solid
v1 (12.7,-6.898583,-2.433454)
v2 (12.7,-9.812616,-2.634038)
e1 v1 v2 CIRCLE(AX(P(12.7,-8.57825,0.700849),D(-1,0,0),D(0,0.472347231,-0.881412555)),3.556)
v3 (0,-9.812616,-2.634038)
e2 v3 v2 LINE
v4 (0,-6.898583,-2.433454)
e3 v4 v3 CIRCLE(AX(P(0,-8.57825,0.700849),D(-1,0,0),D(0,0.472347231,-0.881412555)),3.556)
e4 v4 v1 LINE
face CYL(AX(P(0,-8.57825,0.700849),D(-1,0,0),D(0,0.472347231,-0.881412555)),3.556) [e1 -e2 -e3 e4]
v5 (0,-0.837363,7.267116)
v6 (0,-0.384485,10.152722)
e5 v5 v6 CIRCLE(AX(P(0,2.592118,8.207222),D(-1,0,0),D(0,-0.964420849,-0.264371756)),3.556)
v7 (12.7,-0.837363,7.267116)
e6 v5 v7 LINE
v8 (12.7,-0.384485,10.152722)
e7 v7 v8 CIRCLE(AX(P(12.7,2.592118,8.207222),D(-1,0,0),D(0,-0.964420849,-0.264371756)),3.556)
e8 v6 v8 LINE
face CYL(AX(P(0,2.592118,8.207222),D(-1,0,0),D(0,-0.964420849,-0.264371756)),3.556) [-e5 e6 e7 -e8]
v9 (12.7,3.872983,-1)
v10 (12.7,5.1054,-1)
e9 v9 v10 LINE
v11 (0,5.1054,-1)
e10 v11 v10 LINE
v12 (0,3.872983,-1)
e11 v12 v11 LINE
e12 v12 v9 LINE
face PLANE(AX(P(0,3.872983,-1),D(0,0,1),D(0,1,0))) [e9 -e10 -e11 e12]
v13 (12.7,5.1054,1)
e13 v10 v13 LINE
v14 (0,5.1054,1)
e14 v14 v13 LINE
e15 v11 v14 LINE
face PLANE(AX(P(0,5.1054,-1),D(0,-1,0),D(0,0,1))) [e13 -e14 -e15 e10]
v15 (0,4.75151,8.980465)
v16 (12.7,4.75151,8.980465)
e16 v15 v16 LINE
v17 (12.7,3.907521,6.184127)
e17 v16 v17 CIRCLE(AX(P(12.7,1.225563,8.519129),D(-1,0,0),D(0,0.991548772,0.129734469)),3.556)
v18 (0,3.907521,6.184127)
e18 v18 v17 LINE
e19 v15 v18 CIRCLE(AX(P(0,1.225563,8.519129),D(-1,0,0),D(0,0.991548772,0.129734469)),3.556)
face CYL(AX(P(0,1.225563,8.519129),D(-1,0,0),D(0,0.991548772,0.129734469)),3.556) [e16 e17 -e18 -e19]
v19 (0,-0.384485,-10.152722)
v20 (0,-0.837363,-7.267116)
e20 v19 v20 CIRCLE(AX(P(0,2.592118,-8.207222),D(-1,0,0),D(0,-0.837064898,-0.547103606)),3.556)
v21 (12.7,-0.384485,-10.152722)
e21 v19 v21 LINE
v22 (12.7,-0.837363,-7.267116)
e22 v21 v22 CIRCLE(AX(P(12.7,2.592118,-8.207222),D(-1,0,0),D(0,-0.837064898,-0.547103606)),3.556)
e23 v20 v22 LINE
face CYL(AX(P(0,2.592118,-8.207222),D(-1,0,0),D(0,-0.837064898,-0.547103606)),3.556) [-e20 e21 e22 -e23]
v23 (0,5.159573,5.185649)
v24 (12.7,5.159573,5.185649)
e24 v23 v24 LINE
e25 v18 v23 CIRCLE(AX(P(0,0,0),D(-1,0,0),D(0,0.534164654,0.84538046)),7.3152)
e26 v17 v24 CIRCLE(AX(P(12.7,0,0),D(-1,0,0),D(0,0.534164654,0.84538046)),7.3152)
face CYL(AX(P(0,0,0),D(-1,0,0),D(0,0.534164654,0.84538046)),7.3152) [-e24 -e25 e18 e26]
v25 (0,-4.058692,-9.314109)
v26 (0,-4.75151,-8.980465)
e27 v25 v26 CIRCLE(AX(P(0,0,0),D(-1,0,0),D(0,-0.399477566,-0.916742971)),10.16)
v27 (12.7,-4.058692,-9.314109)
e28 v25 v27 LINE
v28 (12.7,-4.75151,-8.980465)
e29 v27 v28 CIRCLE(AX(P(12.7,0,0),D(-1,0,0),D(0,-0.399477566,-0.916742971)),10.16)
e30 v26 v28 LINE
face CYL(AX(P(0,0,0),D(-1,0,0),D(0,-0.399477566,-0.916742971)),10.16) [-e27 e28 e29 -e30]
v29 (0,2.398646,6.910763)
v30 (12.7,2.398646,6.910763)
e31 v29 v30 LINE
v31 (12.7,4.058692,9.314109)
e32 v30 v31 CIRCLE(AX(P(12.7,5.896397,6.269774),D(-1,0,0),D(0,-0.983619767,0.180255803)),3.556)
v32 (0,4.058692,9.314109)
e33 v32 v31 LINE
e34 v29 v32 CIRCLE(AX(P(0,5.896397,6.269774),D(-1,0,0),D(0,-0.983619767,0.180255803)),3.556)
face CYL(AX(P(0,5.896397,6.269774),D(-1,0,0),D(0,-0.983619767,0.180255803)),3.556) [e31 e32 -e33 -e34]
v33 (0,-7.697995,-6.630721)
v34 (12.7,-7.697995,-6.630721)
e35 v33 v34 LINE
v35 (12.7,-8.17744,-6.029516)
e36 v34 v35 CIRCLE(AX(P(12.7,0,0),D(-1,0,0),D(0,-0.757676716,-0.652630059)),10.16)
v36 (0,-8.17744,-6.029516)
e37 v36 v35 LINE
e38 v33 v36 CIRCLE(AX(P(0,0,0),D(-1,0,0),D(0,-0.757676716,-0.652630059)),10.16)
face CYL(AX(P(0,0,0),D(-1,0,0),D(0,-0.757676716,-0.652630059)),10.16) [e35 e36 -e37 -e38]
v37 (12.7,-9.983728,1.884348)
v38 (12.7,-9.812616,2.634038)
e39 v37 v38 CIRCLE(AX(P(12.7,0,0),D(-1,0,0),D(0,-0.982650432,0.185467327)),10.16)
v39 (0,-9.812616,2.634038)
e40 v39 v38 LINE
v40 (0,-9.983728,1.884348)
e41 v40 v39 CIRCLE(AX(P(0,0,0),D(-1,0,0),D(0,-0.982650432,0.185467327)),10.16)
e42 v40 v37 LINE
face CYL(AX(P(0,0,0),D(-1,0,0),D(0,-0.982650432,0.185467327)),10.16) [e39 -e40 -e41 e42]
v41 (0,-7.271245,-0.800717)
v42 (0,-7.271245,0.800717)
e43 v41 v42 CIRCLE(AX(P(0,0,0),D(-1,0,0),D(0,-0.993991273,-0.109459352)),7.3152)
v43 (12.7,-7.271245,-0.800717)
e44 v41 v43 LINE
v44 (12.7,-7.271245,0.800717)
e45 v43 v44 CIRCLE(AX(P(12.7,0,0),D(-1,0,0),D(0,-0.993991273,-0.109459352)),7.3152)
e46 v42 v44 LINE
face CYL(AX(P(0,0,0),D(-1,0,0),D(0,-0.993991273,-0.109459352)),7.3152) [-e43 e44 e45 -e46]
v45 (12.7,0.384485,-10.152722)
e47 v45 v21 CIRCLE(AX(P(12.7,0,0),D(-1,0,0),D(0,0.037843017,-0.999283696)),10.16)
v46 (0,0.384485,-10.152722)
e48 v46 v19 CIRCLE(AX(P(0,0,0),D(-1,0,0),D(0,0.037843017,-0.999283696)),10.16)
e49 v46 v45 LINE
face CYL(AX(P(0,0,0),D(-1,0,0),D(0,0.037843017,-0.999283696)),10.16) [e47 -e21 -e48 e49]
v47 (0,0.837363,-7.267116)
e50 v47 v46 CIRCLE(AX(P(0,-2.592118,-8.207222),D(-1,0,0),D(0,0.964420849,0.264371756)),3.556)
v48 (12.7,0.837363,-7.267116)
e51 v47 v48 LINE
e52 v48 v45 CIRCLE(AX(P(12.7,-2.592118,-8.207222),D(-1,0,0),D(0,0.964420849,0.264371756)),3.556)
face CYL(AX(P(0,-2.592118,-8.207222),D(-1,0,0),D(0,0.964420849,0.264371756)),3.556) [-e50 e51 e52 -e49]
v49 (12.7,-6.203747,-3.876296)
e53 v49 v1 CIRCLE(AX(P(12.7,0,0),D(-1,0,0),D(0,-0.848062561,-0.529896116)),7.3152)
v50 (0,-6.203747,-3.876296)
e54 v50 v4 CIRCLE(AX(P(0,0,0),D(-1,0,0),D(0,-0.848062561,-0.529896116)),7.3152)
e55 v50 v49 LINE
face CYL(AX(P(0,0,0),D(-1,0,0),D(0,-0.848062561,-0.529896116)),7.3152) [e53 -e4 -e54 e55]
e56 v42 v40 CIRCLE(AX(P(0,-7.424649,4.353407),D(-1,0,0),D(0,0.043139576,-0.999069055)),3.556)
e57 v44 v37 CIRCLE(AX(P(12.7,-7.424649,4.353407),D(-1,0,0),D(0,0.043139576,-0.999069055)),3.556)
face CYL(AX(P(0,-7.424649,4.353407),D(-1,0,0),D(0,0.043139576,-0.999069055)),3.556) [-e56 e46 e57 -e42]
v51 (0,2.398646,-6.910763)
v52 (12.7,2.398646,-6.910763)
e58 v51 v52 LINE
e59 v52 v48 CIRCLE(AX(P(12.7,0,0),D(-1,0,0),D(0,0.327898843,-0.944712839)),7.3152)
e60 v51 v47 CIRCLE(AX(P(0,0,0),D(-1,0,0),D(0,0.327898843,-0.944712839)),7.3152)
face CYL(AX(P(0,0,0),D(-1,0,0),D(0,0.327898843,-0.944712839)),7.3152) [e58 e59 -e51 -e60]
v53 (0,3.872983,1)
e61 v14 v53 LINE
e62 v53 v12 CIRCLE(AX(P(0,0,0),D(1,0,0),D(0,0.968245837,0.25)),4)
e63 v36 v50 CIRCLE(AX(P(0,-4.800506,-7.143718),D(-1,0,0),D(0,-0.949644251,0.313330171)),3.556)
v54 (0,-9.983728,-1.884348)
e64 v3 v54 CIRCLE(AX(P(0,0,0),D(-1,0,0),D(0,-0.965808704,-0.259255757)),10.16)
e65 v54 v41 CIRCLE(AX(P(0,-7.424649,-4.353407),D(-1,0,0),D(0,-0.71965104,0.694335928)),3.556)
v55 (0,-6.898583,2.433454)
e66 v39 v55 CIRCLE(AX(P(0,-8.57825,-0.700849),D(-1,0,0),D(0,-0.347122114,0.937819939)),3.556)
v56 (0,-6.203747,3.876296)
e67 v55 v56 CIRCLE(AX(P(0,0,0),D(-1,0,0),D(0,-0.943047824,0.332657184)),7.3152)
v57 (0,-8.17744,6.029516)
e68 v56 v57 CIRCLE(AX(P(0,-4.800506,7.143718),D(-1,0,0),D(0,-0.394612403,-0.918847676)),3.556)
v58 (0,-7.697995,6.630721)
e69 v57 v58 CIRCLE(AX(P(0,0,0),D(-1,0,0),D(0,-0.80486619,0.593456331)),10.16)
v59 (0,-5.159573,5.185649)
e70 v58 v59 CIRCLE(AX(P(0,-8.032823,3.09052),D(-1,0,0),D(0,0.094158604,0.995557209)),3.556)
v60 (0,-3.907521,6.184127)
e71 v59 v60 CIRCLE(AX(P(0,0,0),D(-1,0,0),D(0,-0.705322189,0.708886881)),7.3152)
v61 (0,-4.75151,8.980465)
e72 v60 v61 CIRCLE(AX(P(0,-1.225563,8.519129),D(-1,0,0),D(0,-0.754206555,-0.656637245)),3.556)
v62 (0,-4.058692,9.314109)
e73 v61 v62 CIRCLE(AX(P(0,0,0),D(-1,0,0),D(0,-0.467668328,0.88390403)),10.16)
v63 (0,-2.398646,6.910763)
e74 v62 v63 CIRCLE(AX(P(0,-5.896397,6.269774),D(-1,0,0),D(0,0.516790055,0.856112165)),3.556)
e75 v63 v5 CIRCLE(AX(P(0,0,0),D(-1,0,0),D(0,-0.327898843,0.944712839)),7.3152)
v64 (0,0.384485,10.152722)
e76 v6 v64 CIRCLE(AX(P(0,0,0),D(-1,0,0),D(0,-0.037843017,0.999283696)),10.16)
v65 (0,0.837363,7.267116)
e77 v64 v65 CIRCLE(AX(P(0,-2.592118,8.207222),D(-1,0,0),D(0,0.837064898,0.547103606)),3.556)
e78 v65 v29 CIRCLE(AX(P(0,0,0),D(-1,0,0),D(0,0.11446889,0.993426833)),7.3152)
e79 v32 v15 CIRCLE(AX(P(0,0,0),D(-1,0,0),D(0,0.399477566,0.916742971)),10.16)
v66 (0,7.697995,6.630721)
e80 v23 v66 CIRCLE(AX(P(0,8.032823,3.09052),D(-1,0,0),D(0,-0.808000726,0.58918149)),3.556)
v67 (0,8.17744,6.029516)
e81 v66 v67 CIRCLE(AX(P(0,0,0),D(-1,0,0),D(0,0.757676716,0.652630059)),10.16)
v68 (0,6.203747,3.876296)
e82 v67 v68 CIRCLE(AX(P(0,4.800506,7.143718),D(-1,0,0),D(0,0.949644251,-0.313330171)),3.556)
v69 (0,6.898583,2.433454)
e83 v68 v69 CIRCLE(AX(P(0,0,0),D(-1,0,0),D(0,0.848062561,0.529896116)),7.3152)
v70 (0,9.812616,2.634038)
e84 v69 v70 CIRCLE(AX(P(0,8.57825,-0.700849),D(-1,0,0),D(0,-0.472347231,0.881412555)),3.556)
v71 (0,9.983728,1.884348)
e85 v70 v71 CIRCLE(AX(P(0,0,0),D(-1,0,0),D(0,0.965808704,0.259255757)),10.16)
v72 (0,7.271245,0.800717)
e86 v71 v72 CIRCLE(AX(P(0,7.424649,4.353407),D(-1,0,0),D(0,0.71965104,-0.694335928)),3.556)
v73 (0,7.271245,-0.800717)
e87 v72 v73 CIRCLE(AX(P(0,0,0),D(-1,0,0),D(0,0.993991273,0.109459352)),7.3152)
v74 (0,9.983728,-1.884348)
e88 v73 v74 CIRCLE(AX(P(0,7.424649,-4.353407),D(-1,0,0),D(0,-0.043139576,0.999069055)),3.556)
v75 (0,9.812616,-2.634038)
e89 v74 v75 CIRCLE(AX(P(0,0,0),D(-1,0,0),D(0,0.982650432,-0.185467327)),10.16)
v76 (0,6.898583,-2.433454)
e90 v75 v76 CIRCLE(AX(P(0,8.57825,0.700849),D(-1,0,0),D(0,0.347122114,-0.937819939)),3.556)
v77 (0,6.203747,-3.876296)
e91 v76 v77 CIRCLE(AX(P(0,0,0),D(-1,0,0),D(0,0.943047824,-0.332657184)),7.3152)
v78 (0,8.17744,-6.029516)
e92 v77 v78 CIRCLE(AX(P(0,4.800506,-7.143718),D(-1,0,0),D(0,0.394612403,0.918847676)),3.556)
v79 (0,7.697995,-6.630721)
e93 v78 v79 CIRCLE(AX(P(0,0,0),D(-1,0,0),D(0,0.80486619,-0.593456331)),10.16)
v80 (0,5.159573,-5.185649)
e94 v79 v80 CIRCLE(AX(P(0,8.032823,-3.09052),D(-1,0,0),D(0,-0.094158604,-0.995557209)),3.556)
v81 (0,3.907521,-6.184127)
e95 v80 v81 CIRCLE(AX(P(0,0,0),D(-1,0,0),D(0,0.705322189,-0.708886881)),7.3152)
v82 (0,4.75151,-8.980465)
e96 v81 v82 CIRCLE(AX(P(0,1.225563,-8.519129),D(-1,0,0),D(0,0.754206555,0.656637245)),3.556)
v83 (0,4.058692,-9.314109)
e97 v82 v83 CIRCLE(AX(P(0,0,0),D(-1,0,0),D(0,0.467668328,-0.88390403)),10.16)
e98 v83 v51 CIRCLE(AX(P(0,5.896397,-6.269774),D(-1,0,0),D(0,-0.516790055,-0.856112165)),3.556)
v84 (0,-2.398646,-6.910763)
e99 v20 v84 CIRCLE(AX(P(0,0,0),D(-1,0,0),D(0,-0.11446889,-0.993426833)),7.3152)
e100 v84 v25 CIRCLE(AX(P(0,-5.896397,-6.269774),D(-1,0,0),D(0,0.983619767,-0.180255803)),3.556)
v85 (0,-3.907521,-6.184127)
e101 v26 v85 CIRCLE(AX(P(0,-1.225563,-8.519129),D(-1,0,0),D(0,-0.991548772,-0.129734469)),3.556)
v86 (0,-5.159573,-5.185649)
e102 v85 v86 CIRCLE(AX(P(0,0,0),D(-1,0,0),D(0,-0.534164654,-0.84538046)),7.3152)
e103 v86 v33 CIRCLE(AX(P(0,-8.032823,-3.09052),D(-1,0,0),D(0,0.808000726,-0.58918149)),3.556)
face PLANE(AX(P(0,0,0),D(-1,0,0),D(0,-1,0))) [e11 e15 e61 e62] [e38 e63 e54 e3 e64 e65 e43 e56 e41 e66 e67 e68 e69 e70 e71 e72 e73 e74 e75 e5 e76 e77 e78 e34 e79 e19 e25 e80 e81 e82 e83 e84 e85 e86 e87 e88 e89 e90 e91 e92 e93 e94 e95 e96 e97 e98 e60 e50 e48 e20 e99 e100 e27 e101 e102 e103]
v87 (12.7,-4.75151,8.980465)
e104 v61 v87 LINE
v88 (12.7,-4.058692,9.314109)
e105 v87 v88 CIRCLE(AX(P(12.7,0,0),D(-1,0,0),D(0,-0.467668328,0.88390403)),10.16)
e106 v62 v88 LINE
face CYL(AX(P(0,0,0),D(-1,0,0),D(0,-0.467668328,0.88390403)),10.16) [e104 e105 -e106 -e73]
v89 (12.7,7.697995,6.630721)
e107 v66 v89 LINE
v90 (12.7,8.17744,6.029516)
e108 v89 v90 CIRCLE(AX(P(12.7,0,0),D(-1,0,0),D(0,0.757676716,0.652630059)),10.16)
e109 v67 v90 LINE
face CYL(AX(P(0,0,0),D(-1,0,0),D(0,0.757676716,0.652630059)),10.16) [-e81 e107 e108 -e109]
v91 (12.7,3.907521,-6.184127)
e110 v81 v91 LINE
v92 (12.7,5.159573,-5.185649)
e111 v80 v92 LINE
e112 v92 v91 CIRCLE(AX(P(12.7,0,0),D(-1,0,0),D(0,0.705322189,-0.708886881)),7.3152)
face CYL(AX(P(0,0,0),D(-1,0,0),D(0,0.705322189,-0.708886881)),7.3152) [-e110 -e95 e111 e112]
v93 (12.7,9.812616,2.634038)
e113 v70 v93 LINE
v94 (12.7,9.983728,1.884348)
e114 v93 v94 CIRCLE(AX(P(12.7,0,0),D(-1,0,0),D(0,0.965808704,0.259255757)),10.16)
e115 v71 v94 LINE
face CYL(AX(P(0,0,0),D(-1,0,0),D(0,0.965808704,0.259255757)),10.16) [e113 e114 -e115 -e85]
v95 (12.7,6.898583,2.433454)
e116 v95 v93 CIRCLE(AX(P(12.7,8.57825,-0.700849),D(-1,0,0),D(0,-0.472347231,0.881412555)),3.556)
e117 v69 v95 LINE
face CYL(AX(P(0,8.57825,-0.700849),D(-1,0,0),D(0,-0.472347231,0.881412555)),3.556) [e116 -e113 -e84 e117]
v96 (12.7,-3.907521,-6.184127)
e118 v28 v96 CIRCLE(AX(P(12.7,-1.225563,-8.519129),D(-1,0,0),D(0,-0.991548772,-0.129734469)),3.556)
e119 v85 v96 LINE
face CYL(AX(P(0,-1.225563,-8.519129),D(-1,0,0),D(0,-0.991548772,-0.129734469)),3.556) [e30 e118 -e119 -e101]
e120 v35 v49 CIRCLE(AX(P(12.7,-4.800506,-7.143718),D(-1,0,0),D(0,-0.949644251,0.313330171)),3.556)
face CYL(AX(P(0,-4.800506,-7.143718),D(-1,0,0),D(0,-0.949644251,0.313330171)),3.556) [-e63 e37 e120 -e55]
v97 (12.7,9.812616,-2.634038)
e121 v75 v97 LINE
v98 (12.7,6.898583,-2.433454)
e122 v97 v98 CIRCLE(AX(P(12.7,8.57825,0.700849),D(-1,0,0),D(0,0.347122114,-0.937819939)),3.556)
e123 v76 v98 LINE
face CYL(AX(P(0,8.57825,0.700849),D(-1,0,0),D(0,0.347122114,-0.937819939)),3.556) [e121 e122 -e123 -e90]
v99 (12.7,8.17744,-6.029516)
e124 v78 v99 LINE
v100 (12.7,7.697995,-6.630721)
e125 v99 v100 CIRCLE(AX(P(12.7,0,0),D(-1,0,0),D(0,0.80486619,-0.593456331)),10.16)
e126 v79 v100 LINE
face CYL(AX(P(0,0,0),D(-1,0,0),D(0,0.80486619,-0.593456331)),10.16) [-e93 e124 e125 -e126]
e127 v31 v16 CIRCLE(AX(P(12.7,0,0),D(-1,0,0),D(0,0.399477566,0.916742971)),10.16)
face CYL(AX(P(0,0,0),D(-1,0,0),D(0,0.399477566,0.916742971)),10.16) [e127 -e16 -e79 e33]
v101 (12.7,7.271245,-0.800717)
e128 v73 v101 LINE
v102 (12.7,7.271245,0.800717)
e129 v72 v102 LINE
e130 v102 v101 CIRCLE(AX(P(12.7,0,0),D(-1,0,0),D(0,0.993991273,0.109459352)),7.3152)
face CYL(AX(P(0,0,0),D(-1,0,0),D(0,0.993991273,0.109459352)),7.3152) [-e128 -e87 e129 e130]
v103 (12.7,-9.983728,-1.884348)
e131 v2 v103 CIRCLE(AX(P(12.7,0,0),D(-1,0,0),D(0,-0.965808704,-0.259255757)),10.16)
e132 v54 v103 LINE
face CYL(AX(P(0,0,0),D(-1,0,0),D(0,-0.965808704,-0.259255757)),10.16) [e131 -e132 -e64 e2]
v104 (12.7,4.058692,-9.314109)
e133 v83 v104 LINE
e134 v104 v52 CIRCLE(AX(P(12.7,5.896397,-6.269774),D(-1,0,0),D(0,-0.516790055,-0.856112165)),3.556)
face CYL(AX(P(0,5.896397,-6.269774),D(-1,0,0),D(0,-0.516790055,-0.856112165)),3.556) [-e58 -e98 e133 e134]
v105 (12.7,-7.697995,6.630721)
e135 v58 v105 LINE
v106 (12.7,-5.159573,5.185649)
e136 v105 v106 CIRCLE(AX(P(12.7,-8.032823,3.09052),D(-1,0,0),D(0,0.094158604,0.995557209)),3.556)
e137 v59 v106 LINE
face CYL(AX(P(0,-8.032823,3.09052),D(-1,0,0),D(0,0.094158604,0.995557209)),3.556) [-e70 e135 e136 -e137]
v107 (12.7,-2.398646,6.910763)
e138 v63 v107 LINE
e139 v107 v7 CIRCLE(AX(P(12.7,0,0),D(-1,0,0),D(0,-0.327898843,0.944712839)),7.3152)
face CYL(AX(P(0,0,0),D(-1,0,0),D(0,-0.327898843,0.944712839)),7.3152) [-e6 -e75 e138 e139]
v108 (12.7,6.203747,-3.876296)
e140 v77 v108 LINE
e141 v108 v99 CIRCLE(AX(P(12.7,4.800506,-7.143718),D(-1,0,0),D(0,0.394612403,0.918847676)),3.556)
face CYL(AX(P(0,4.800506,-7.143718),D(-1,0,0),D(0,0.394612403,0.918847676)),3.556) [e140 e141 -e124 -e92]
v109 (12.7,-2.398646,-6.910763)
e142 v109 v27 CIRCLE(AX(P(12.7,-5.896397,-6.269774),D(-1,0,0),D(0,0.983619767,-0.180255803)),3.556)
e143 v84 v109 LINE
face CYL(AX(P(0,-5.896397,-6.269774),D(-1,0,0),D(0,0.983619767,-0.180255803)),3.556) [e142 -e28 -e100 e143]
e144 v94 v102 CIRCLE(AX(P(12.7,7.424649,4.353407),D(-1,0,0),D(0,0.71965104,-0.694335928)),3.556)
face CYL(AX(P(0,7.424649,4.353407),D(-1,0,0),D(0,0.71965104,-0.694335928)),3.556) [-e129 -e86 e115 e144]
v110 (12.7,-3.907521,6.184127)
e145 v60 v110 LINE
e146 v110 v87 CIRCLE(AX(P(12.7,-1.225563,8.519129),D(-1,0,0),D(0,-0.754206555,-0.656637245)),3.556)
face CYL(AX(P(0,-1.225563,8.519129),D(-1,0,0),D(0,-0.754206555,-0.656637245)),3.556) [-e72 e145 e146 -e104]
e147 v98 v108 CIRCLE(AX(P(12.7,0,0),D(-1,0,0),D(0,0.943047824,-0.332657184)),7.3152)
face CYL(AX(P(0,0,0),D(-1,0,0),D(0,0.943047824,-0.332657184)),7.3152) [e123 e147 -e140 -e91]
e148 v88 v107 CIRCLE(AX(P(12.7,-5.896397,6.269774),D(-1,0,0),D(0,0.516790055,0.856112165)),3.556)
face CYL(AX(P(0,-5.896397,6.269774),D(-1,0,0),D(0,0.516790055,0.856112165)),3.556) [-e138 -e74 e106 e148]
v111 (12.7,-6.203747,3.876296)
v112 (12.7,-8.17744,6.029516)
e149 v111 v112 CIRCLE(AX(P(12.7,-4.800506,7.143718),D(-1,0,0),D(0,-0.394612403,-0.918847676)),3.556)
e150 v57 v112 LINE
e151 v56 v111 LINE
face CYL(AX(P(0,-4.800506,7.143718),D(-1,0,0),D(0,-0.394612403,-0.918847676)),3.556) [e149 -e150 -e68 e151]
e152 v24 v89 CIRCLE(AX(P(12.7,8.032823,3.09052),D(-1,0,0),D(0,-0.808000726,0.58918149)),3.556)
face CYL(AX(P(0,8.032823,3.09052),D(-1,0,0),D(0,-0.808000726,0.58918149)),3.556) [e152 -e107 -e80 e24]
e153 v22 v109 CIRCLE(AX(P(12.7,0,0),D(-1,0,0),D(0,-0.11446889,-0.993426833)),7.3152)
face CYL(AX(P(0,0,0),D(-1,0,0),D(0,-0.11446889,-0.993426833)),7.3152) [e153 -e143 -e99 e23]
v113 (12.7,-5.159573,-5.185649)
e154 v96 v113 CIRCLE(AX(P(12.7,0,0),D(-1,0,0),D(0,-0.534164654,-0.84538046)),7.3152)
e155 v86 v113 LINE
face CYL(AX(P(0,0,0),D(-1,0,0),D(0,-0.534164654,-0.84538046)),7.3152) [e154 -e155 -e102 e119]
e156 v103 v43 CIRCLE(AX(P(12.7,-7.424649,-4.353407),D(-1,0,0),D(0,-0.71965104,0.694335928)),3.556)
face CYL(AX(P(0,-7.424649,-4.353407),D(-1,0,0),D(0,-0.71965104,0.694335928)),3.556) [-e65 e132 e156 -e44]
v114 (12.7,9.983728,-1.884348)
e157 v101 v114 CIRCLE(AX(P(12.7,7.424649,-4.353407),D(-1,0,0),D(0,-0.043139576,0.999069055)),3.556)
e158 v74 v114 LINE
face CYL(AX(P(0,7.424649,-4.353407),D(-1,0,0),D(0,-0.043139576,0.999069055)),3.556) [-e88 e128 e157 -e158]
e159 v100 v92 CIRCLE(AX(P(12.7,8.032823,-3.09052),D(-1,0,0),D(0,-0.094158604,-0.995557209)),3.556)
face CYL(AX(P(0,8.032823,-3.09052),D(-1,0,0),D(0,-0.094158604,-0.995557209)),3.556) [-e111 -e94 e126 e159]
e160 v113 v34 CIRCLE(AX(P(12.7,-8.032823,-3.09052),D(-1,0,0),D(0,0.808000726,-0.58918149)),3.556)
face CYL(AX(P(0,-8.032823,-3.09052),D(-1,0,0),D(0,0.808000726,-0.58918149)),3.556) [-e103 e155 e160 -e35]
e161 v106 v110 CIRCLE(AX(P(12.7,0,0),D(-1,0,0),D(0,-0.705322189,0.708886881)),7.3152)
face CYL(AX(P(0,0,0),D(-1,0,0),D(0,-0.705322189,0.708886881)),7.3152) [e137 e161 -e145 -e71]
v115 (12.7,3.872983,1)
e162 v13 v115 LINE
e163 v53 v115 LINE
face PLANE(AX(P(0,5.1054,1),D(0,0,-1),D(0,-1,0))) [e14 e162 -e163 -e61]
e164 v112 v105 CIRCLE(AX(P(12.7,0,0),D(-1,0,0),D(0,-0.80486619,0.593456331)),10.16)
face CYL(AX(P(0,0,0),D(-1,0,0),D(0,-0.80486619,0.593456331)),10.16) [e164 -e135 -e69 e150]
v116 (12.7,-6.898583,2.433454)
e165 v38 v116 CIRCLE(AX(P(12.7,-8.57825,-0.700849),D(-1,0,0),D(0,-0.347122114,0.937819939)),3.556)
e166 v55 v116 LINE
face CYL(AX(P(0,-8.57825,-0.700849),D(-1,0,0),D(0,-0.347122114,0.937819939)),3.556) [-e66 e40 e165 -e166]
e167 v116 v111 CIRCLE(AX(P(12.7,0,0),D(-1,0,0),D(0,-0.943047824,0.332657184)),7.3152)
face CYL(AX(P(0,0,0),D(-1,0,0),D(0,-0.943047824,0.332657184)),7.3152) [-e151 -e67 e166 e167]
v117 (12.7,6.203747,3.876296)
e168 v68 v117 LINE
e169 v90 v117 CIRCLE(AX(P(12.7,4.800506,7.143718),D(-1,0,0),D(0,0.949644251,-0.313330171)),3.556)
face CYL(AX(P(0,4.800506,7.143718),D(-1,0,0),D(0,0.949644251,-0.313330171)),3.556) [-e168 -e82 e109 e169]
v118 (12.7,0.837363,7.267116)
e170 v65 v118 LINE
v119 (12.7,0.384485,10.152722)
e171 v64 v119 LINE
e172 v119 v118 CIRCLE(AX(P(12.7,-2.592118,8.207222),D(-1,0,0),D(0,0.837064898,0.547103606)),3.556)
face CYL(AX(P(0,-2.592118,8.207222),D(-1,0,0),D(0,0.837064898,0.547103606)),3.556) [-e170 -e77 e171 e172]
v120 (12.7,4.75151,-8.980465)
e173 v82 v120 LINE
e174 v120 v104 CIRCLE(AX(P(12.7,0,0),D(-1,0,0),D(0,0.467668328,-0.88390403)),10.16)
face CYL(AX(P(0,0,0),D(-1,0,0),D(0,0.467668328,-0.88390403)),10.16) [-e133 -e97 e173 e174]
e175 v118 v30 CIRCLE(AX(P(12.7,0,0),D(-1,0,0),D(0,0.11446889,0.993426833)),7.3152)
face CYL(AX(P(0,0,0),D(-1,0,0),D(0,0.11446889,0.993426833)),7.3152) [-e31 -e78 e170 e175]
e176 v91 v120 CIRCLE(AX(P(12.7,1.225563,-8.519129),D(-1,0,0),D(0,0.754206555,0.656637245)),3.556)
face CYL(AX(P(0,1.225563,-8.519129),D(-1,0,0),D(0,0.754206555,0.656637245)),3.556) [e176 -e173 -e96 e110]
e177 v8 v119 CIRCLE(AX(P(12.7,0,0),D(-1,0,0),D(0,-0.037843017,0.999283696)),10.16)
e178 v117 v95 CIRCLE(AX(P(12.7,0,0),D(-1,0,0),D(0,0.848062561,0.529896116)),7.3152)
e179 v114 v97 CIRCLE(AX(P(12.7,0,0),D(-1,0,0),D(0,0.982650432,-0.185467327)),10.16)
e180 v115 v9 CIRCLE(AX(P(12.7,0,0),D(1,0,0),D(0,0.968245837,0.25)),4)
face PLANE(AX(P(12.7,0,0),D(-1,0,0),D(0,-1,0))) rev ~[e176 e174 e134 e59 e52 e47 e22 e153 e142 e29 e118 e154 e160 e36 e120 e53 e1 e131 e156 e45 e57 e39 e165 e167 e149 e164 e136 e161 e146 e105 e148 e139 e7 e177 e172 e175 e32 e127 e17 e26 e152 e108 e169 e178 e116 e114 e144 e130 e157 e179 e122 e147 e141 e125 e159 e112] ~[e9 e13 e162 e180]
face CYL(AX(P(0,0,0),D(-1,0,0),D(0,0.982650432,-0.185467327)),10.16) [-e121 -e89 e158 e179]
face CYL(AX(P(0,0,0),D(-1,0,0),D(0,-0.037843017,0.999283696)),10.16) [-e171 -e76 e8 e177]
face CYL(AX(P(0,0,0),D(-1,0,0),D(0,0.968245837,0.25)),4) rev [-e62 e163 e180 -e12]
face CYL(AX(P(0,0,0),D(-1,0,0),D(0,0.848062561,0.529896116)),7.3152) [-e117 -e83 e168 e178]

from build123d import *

# Parameters (mm, degrees)
BOSS_EXTRUDE1_DEPTH = 12.7


with BuildPart() as part:
    # Sketch1 → Boss-Extrude1 (new body)
    with BuildSketch(Plane(origin=(0, 0, 0), x_dir=(0, -1, 0), z_dir=(-1, 0, 0))):
        with BuildLine():
            ThreePointArc((-8.177440487, -6.029516323), (-7.943407862, -6.334656387), (-7.697995454, -6.630721377))
            ThreePointArc((-7.697995454, -6.630721377), (-6.273562142, -6.180849316), (-5.15957287, -5.185649317))
            ThreePointArc((-5.15957287, -5.185649317), (-4.560952599, -5.719253661), (-3.907521288, -6.184127135))
            ThreePointArc((-3.907521288, -6.184127135), (-4.629883612, -7.491639203), (-4.75151021, -8.98046495))
            ThreePointArc((-4.75151021, -8.98046495), (-4.408258789, -9.153843698), (-4.058692066, -9.314108584))
            ThreePointArc((-4.058692066, -9.314108584), (-2.970514168, -8.29074941), (-2.398645612, -6.910763363))
            ThreePointArc((-2.398645612, -6.910763363), (-1.627785136, -7.131792663), (-0.837362826, -7.267115971))
            ThreePointArc((-0.837362826, -7.267115971), (-0.920880567, -8.758564905), (-0.384485064, -10.152722356))
            ThreePointArc((-0.384485064, -10.152722356), (0, -10.16), (0.384485064, -10.152722356))
            ThreePointArc((0.384485064, -10.152722356), (0.920880567, -8.758564905), (0.837362826, -7.267115971))
            ThreePointArc((0.837362826, -7.267115971), (1.627785136, -7.131792663), (2.398645612, -6.910763363))
            ThreePointArc((2.398645612, -6.910763363), (2.970514168, -8.29074941), (4.058692066, -9.314108584))
            ThreePointArc((4.058692066, -9.314108584), (4.408258789, -9.153843698), (4.75151021, -8.98046495))
            ThreePointArc((4.75151021, -8.98046495), (4.629883612, -7.491639203), (3.907521288, -6.184127135))
            ThreePointArc((3.907521288, -6.184127135), (4.560952599, -5.719253661), (5.15957287, -5.185649317))
            ThreePointArc((5.15957287, -5.185649317), (6.273562142, -6.180849316), (7.697995454, -6.630721377))
            ThreePointArc((7.697995454, -6.630721377), (7.943407862, -6.334656387), (8.177440487, -6.029516323))
            ThreePointArc((8.177440487, -6.029516323), (7.421881426, -4.740902478), (6.203747236, -3.876296077))
            ThreePointArc((6.203747236, -3.876296077), (6.590767462, -3.173946328), (6.898583443, -2.433453825))
            ThreePointArc((6.898583443, -2.433453825), (8.334054192, -2.846756211), (9.812616434, -2.634038481))
            ThreePointArc((9.812616434, -2.634038481), (9.905267588, -2.260812689), (9.983728385, -1.884348041))
            ThreePointArc((9.983728385, -1.884348041), (8.7438846, -1.051171874), (7.271244959, -0.800717041))
            ThreePointArc((7.271244959, -0.800717041), (7.3152, 0), (7.271244959, 0.800717041))
            ThreePointArc((7.271244959, 0.800717041), (8.7438846, 1.051171874), (9.983728385, 1.884348041))
            ThreePointArc((9.983728385, 1.884348041), (9.905267588, 2.260812689), (9.812616434, 2.634038481))
            ThreePointArc((9.812616434, 2.634038481), (8.334054192, 2.846756211), (6.898583443, 2.433453825))
            ThreePointArc((6.898583443, 2.433453825), (6.590767462, 3.173946328), (6.203747236, 3.876296077))
            ThreePointArc((6.203747236, 3.876296077), (7.421881426, 4.740902478), (8.177440487, 6.029516323))
            ThreePointArc((8.177440487, 6.029516323), (7.943407862, 6.334656387), (7.697995454, 6.630721377))
            ThreePointArc((7.697995454, 6.630721377), (6.273562142, 6.180849316), (5.15957287, 5.185649317))
            ThreePointArc((5.15957287, 5.185649317), (4.560952599, 5.719253661), (3.907521288, 6.184127135))
            ThreePointArc((3.907521288, 6.184127135), (4.629883612, 7.491639203), (4.75151021, 8.98046495))
            ThreePointArc((4.75151021, 8.98046495), (4.408258789, 9.153843698), (4.058692066, 9.314108584))
            ThreePointArc((4.058692066, 9.314108584), (2.970514168, 8.29074941), (2.398645612, 6.910763363))
            ThreePointArc((2.398645612, 6.910763363), (1.627785136, 7.131792663), (0.837362826, 7.267115971))
            ThreePointArc((0.837362826, 7.267115971), (0.920880567, 8.758564905), (0.384485064, 10.152722356))
            ThreePointArc((0.384485064, 10.152722356), (0, 10.16), (-0.384485064, 10.152722356))
            ThreePointArc((-0.384485064, 10.152722356), (-0.920880567, 8.758564905), (-0.837362826, 7.267115971))
            ThreePointArc((-0.837362826, 7.267115971), (-1.627785136, 7.131792663), (-2.398645612, 6.910763363))
            ThreePointArc((-2.398645612, 6.910763363), (-2.970514168, 8.29074941), (-4.058692066, 9.314108584))
            ThreePointArc((-4.058692066, 9.314108584), (-4.408258789, 9.153843698), (-4.75151021, 8.98046495))
            ThreePointArc((-4.75151021, 8.98046495), (-4.629883612, 7.491639203), (-3.907521288, 6.184127135))
            ThreePointArc((-3.907521288, 6.184127135), (-4.560952599, 5.719253661), (-5.15957287, 5.185649317))
            ThreePointArc((-5.15957287, 5.185649317), (-6.273562142, 6.180849316), (-7.697995454, 6.630721377))
            ThreePointArc((-7.697995454, 6.630721377), (-7.943407862, 6.334656387), (-8.177440487, 6.029516323))
            ThreePointArc((-8.177440487, 6.029516323), (-7.421881426, 4.740902478), (-6.203747236, 3.876296077))
            ThreePointArc((-6.203747236, 3.876296077), (-6.590767462, 3.173946328), (-6.898583443, 2.433453825))
            ThreePointArc((-6.898583443, 2.433453825), (-8.334054192, 2.846756211), (-9.812616434, 2.634038481))
            ThreePointArc((-9.812616434, 2.634038481), (-9.905267588, 2.260812689), (-9.983728385, 1.884348041))
            ThreePointArc((-9.983728385, 1.884348041), (-8.7438846, 1.051171874), (-7.271244959, 0.800717041))
            ThreePointArc((-7.271244959, 0.800717041), (-7.3152, 0), (-7.271244959, -0.800717041))
            ThreePointArc((-7.271244959, -0.800717041), (-8.7438846, -1.051171874), (-9.983728385, -1.884348041))
            ThreePointArc((-9.983728385, -1.884348041), (-9.905267588, -2.260812689), (-9.812616434, -2.634038481))
            ThreePointArc((-9.812616434, -2.634038481), (-8.334054192, -2.846756211), (-6.898583443, -2.433453825))
            ThreePointArc((-6.898583443, -2.433453825), (-6.590767462, -3.173946328), (-6.203747236, -3.876296077))
            ThreePointArc((-6.203747236, -3.876296077), (-7.421881426, -4.740902478), (-8.177440487, -6.029516323))
        make_face()
        with BuildLine():
            Line((-5.1054, 1), (-3.872983346, 1))
            ThreePointArc((-3.872983346, 1), (4, 0), (-3.872983346, -1))
            Line((-3.872983346, -1), (-5.1054, -1))
            Line((-5.1054, -1), (-5.1054, 1))
        make_face(mode=Mode.SUBTRACT)
    extrude(amount=-BOSS_EXTRUDE1_DEPTH)


solid = part.part
